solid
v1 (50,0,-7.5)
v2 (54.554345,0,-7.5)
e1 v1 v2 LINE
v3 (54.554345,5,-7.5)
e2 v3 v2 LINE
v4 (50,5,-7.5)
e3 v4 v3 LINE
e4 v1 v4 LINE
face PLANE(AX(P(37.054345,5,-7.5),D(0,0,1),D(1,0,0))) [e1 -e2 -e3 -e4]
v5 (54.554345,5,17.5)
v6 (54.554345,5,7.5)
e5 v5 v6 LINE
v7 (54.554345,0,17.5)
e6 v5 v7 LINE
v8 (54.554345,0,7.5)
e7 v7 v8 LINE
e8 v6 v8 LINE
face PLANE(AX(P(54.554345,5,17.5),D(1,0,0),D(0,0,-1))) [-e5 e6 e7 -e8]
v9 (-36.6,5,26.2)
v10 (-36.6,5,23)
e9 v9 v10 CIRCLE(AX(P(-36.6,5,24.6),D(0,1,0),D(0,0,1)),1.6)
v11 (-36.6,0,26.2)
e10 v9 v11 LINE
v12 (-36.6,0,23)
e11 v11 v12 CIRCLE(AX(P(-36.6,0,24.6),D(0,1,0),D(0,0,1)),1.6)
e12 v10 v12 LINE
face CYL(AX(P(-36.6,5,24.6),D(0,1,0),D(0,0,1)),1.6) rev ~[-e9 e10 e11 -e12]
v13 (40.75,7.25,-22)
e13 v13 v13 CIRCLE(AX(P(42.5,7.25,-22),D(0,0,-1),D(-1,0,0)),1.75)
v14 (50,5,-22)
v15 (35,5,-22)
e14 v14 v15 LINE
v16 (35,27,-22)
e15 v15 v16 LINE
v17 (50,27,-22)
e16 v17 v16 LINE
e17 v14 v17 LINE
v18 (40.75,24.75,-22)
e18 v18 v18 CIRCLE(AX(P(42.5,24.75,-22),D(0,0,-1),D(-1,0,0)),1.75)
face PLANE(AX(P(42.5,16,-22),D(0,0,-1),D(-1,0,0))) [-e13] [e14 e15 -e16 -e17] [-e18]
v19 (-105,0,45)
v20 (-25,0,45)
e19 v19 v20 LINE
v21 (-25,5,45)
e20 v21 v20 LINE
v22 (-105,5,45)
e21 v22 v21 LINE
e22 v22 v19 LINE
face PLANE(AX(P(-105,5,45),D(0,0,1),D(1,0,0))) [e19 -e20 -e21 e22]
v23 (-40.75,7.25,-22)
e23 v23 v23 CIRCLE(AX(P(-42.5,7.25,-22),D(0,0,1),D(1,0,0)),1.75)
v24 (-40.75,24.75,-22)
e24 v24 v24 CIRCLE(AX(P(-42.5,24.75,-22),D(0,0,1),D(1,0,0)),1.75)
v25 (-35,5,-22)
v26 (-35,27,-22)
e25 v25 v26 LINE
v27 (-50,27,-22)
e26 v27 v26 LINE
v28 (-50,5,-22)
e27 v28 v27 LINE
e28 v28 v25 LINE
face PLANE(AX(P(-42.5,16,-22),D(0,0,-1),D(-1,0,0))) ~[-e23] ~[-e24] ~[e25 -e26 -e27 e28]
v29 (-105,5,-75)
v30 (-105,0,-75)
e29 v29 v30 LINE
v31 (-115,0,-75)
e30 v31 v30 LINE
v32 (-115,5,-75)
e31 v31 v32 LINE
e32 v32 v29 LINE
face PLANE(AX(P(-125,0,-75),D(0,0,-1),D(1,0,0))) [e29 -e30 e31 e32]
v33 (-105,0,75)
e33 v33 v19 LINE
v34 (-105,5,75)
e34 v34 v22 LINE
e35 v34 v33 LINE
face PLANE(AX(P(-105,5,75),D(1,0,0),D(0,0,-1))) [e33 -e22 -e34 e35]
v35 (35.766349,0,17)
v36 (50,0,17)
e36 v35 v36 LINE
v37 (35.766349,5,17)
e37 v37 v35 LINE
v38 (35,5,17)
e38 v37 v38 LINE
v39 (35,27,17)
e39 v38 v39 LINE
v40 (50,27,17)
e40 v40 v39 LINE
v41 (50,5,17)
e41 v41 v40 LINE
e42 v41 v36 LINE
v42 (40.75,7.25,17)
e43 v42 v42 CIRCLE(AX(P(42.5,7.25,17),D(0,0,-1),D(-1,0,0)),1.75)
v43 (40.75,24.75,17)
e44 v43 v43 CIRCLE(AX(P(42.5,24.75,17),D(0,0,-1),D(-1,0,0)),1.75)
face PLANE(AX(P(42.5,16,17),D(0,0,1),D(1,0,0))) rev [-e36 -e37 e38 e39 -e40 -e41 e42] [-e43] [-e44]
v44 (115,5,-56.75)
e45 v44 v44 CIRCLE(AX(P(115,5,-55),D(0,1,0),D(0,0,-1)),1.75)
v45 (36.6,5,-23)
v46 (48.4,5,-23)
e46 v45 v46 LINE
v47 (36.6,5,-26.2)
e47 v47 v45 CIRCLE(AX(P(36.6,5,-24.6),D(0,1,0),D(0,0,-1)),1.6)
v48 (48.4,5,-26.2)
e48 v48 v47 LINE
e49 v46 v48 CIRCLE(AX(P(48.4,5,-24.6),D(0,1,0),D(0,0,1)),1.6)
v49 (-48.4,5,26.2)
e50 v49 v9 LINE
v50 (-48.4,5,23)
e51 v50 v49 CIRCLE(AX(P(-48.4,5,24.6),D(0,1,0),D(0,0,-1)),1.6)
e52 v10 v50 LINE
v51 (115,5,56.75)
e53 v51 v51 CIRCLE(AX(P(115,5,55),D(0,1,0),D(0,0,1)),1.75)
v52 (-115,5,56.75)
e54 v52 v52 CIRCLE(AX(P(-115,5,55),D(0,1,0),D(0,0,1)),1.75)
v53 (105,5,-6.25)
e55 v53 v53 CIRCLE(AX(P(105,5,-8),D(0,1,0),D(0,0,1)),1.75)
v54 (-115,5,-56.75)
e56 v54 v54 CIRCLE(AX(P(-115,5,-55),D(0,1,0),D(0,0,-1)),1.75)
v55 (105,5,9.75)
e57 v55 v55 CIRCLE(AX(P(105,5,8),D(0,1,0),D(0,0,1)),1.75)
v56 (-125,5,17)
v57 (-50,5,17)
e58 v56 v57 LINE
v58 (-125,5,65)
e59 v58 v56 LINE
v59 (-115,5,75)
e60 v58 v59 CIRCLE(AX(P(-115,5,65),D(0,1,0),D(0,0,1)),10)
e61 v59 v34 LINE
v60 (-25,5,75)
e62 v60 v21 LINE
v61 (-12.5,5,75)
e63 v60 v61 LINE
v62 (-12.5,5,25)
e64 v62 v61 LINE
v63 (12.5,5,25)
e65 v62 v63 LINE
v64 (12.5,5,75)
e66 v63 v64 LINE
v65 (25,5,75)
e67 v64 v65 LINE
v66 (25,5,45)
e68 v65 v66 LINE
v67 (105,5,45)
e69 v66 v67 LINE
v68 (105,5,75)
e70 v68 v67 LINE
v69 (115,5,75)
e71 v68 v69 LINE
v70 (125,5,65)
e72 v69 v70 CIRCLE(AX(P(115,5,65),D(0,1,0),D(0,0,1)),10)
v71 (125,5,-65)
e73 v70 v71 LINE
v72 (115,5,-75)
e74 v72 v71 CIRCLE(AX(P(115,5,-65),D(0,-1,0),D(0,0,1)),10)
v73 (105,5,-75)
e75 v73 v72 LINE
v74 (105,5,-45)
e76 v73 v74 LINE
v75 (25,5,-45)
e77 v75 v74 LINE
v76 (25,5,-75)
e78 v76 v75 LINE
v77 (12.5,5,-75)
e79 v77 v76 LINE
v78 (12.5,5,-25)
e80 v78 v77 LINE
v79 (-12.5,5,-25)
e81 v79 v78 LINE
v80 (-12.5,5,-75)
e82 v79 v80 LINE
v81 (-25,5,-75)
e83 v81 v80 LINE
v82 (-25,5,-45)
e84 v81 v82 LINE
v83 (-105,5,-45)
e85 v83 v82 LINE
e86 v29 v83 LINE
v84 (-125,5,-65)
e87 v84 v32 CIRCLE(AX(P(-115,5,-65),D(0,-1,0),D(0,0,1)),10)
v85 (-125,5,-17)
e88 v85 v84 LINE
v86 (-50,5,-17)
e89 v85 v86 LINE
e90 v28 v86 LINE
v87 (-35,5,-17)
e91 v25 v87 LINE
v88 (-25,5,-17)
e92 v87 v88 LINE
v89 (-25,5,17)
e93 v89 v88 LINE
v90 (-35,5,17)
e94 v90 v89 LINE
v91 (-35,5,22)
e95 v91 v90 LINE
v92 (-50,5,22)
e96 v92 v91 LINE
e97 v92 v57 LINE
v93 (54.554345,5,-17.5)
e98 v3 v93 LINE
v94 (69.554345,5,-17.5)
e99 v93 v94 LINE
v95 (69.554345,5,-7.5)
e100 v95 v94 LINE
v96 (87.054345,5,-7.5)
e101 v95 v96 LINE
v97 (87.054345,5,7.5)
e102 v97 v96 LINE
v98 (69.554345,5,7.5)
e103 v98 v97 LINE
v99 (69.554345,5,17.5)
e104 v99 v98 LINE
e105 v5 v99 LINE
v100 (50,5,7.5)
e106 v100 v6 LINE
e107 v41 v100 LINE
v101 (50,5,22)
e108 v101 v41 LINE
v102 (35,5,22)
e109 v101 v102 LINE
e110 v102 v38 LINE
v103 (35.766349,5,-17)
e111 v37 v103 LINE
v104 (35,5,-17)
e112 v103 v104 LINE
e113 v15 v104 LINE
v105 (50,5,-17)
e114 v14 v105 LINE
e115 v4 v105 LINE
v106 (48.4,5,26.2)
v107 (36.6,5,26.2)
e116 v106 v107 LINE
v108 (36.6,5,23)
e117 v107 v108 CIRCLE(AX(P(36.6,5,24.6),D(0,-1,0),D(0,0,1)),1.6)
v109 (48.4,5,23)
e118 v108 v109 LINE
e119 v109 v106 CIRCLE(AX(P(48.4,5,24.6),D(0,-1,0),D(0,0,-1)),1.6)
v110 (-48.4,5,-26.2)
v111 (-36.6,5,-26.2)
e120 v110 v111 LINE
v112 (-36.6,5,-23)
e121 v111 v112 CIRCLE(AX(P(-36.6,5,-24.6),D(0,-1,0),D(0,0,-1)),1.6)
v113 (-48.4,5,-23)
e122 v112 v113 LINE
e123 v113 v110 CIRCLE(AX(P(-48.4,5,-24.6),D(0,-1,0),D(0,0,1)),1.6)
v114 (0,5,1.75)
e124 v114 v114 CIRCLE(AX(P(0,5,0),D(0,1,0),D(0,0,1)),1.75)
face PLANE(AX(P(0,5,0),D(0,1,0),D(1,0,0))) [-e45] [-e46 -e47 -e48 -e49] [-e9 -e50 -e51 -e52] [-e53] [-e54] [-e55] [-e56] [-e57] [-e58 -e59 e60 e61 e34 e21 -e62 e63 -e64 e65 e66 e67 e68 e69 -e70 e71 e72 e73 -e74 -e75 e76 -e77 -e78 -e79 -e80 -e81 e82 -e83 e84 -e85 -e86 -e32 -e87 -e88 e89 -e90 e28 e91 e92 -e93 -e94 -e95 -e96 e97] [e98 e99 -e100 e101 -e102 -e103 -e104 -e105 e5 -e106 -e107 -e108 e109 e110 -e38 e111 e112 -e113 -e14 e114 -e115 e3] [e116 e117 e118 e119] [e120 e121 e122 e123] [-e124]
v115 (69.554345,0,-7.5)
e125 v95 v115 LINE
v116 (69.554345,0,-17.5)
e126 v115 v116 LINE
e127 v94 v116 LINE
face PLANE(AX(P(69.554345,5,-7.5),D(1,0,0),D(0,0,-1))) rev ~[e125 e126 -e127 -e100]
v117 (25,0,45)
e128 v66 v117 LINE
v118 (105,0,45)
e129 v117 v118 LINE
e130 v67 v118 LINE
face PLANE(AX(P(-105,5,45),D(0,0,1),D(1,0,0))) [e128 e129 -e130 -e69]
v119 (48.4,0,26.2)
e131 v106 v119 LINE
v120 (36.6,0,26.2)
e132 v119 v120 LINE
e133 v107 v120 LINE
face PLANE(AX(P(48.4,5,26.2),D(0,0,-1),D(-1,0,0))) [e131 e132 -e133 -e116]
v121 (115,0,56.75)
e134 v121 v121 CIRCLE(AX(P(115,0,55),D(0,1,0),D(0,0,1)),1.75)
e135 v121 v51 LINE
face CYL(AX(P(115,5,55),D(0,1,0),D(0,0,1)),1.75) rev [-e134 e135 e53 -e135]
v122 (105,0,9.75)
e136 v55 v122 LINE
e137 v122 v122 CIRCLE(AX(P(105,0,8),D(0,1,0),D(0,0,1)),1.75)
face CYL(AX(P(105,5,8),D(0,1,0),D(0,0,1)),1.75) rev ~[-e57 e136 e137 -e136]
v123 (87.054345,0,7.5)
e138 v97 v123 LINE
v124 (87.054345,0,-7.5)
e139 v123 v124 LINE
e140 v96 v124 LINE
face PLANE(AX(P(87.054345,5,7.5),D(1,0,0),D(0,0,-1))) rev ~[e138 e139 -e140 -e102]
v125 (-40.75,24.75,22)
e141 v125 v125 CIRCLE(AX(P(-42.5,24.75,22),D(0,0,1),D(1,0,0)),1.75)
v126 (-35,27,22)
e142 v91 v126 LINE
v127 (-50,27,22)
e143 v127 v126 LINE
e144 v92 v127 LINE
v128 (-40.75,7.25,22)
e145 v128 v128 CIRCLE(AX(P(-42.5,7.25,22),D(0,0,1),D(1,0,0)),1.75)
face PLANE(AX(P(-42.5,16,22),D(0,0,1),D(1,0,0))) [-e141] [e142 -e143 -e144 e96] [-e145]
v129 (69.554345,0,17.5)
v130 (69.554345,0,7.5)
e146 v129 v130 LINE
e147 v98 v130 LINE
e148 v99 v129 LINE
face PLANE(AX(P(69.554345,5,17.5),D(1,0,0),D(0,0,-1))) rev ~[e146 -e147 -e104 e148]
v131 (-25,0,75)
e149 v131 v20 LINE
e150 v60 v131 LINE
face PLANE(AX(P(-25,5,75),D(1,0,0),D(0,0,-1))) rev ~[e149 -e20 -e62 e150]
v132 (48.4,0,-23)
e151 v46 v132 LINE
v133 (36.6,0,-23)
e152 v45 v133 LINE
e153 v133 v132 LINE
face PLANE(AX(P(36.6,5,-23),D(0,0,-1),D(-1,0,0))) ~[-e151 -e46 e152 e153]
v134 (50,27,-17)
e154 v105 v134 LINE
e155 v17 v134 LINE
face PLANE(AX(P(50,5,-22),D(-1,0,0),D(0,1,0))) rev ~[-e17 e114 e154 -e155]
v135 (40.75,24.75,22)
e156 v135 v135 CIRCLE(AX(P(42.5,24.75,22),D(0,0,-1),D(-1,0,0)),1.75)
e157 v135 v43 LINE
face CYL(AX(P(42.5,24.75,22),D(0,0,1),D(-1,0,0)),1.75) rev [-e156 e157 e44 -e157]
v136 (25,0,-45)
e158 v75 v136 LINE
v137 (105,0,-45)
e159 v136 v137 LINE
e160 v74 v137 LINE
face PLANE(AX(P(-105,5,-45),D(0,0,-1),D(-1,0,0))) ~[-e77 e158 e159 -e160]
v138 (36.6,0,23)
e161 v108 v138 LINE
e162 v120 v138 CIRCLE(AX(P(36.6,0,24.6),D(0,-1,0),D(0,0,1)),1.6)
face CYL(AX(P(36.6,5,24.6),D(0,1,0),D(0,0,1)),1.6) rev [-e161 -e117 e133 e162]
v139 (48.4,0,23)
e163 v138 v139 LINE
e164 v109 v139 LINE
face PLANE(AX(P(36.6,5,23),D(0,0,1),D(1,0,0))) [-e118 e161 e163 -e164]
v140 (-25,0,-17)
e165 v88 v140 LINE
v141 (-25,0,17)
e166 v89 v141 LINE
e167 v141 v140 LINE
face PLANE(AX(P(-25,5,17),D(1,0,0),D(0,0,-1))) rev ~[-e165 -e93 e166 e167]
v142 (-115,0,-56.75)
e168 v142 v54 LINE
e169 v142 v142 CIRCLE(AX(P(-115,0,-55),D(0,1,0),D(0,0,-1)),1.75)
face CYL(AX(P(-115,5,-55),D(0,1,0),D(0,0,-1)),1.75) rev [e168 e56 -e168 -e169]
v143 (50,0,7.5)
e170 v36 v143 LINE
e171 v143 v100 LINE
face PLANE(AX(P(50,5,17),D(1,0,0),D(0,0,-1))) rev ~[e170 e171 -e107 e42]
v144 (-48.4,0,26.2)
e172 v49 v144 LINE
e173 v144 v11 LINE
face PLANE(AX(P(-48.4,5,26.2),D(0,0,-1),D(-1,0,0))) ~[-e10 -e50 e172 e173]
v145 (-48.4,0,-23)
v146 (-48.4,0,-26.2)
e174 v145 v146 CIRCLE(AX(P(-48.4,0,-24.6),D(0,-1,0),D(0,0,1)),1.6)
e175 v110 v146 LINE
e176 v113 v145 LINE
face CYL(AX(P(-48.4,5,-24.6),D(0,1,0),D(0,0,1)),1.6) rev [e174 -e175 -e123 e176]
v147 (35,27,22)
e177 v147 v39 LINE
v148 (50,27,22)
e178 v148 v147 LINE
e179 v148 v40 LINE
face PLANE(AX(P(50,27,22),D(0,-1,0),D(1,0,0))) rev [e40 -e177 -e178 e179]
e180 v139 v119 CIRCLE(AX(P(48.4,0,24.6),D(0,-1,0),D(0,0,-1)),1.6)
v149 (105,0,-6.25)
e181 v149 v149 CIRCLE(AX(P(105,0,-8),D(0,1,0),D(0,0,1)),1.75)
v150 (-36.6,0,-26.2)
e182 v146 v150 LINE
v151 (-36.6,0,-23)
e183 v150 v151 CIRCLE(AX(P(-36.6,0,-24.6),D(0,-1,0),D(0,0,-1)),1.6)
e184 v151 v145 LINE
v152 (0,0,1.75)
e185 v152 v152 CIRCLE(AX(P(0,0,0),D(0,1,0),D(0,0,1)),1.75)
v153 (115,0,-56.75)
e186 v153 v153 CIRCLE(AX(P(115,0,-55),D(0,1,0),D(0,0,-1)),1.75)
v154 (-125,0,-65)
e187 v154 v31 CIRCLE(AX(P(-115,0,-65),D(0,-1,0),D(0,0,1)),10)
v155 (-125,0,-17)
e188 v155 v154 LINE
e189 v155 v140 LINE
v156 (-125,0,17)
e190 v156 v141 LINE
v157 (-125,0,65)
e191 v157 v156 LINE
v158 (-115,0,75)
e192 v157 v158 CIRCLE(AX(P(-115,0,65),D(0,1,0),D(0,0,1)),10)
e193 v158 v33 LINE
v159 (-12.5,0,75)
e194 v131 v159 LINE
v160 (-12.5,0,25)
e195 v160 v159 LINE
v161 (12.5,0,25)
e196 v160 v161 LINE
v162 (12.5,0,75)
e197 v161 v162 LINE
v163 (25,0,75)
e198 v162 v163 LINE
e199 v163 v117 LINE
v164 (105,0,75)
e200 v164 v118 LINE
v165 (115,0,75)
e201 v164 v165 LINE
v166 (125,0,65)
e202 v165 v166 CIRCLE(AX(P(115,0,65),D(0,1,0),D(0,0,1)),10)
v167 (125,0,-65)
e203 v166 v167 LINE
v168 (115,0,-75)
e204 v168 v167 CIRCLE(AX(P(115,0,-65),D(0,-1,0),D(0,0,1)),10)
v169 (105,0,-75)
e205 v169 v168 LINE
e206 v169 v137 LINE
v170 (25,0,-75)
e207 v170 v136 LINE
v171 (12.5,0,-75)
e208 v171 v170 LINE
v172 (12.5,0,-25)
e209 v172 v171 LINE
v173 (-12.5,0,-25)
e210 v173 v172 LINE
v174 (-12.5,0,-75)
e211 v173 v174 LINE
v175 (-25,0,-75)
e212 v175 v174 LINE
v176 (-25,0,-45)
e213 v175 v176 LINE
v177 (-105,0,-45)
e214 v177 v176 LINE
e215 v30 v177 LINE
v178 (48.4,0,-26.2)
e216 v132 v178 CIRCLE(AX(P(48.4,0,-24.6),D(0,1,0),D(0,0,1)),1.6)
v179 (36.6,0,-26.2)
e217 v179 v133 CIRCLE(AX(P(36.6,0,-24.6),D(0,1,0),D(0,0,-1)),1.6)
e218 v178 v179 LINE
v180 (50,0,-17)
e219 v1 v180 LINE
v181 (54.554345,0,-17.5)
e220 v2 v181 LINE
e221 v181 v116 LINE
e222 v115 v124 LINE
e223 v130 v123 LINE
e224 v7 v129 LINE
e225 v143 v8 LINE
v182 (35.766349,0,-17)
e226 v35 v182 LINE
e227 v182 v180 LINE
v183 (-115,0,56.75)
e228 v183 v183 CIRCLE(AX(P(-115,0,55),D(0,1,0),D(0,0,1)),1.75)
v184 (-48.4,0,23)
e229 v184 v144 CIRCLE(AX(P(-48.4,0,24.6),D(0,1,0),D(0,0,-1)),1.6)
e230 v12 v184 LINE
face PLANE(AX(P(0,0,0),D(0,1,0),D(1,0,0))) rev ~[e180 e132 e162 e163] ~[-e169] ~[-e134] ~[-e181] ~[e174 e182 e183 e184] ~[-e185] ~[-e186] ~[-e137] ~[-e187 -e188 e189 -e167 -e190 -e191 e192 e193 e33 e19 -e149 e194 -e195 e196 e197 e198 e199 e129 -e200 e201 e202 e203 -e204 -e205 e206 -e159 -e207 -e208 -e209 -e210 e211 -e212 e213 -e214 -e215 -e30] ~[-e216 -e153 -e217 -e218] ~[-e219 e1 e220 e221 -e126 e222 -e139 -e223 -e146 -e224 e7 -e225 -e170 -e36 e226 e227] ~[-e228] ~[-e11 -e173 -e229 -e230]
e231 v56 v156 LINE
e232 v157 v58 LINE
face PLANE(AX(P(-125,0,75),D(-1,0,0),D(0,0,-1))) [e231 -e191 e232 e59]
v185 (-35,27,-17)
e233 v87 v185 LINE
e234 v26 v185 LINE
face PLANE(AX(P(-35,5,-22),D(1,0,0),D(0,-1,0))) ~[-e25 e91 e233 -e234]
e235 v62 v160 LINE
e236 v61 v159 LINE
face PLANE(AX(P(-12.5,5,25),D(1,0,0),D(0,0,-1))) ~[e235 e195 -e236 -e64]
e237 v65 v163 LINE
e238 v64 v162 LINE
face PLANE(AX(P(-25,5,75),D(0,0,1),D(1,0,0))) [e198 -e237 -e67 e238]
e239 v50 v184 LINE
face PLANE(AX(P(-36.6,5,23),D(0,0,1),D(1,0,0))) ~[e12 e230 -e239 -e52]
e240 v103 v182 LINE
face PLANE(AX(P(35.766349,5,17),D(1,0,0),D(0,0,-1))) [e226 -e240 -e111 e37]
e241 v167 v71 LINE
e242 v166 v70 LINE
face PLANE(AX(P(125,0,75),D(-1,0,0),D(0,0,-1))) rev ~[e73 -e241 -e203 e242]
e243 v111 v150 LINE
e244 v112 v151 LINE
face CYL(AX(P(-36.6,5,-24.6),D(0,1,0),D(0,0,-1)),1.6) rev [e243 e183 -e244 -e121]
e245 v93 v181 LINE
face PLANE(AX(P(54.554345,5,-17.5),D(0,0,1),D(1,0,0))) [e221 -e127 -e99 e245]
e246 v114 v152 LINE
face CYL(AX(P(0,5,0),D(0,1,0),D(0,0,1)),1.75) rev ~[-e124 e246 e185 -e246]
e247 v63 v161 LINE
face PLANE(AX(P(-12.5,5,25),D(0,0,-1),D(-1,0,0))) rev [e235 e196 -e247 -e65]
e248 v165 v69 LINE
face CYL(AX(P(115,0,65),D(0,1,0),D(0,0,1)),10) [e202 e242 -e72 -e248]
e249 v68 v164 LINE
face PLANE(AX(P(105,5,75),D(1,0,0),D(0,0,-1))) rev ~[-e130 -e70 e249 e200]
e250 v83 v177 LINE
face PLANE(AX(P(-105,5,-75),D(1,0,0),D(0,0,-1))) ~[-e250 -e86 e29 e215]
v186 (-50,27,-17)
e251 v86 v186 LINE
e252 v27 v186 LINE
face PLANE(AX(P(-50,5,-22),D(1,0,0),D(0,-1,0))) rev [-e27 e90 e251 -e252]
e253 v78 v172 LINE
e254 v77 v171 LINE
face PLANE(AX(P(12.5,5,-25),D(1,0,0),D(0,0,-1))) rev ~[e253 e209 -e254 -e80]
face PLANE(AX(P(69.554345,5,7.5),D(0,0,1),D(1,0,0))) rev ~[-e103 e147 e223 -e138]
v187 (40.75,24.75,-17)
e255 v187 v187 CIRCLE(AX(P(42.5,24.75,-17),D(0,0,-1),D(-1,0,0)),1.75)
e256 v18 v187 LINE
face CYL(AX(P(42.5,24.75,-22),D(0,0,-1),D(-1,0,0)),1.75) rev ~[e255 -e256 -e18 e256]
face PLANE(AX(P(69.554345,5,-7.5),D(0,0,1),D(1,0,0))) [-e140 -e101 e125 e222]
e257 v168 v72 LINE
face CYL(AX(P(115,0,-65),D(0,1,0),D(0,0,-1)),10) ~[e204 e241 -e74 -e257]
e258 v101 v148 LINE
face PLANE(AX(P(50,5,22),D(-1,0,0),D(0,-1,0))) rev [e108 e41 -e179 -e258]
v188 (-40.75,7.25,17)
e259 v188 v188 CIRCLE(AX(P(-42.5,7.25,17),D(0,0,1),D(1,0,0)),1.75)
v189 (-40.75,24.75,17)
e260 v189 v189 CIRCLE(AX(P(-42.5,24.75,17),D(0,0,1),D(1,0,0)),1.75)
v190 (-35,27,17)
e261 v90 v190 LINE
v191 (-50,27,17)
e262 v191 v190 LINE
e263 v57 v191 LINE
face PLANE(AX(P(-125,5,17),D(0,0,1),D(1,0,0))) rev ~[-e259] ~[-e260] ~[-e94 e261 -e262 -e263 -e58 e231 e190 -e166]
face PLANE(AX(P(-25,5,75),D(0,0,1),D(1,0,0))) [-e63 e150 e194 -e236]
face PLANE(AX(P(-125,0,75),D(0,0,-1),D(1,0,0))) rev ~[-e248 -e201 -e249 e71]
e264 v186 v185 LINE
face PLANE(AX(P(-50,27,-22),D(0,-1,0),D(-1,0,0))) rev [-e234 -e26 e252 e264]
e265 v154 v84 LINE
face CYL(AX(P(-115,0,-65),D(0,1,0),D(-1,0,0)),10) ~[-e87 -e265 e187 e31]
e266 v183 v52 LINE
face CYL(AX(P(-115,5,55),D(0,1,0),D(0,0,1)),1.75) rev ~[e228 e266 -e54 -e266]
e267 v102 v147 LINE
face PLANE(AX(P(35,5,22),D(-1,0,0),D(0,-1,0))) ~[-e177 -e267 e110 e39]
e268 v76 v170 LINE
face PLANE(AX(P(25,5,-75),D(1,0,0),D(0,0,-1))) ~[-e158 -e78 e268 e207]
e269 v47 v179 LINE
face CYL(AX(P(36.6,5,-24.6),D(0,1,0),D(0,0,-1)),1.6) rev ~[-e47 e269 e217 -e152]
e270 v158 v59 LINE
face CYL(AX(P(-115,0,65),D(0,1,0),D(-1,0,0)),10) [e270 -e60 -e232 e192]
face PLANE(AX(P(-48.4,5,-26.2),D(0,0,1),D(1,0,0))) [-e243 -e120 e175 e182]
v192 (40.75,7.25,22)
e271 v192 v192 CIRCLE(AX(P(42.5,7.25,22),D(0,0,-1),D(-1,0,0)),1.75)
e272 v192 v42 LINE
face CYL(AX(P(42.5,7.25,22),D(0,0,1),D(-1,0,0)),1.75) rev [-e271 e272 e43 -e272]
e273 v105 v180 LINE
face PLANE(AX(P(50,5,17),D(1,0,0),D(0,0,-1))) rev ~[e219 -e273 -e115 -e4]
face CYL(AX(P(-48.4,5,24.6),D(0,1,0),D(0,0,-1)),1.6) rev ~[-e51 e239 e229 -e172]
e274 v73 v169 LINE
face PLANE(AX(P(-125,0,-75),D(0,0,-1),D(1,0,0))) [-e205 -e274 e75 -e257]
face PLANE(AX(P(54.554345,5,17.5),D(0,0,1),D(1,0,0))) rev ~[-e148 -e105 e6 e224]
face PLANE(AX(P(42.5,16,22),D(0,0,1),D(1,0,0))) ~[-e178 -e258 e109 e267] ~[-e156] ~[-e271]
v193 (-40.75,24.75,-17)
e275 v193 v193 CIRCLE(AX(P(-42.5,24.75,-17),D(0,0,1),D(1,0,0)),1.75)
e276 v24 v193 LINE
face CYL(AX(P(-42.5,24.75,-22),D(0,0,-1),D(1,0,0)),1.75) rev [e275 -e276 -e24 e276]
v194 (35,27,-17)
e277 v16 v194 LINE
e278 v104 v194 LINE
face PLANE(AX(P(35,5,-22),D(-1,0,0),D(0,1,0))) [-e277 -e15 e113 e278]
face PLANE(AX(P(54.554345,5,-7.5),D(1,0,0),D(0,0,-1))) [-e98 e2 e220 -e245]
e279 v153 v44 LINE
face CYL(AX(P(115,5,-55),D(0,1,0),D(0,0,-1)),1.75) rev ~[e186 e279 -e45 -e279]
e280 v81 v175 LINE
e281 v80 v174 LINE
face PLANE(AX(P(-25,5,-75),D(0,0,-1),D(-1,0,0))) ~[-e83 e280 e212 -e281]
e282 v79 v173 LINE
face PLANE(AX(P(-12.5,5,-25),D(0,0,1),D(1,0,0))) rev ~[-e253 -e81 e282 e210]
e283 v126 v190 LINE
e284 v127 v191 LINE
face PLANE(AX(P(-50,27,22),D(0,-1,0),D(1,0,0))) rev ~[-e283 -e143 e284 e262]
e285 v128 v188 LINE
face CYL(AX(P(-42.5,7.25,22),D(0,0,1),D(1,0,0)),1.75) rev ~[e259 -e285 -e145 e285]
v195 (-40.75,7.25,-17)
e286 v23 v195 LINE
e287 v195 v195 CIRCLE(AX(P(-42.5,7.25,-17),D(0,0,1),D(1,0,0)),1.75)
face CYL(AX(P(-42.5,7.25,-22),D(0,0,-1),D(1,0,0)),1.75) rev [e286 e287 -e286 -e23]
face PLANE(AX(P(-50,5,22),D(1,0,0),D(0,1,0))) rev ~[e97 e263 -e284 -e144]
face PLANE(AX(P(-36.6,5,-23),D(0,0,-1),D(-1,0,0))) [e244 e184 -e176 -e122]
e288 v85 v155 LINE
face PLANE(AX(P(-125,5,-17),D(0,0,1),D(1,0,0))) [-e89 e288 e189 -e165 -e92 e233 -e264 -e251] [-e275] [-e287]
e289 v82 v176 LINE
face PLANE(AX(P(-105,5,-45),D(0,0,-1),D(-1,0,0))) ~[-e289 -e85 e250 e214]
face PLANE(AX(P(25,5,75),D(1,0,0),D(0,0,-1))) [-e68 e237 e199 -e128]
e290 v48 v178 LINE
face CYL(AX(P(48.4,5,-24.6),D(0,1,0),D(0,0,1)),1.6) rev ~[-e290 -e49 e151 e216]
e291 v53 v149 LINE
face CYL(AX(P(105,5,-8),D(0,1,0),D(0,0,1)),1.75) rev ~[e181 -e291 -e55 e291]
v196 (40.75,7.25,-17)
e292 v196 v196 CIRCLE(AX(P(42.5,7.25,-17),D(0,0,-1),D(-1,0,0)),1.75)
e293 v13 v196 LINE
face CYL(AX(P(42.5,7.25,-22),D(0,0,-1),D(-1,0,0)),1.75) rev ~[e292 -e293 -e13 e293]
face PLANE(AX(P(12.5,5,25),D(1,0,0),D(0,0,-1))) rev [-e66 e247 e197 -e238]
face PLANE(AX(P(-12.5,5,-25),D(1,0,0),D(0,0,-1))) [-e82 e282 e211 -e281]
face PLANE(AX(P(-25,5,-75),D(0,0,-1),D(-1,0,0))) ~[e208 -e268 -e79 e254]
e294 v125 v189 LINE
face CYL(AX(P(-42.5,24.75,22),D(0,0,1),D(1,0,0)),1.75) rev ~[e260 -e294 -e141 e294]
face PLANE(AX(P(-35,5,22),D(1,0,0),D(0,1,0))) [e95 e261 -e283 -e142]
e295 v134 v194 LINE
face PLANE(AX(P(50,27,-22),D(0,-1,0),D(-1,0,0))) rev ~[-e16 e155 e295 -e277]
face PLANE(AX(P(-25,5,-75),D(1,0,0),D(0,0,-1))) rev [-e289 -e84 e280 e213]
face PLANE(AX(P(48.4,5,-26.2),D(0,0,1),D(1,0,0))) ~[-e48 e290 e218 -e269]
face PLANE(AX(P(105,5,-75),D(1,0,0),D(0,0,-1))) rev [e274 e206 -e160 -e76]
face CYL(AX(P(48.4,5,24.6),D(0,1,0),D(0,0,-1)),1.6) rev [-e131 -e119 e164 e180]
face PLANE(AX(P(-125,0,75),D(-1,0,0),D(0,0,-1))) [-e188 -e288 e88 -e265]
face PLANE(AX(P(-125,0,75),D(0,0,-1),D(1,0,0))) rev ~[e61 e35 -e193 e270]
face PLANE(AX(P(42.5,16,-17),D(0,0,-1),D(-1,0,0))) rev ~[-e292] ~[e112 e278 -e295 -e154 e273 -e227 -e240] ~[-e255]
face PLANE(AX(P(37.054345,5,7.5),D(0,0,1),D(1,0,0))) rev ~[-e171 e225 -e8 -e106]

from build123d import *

# Parameters (mm, degrees)
SKETCH_1_W                                 = 250
SKETCH_1_H                                 = 150
EXTRUDE_1_DEPTH                            = 5
SKETCH_2_W                                 = 15
SKETCH_2_H                                 = 22
EXTRUDE_2_DEPTH                            = 5
MIRROR_2_COPY_1_SKETCH_W                   = 15
MIRROR_2_COPY_1_SKETCH_H                   = 22
MIRROR_2_COPY_1_DEPTH                      = 5
SKETCH_7_R                                 = 1.75
CUT_EXTRUDE_1_DEPTH                        = 148.424556977
MIRROR_4_COPY_1_SKETCH_R                   = 1.75
MIRROR_4_COPY_1_DEPTH                      = 148.424556977
FILLET_1_R                                 = 10
SKETCH_12_W                                = 30
SKETCH_12_H                                = 11
EXTRUDE_4_DEPTH                            = 3
SKETCH_13_W                                = 30
SKETCH_13_H                                = 3
EXTRUDE_5_DEPTH                            = 50
CUT_EXTRUDE_4_DEPTH                        = 192.065433818
CUT_EXTRUDE_4_DEPTH_BACK                   = 192.065433818
SKETCH_16_R                                = 1.75
CUT_EXTRUDE_5_DEPTH                        = 182.950542731
CUT_EXTRUDE_6_DEPTH                        = 182.950542731
CUT_EXTRUDE_6_DEPTH_BACK                   = 5
SKETCH_19_W                                = 6
SKETCH_19_H                                = 20
SKETCH_21_W                                = 210
SKETCH_21_H                                = 30
CUT_EXTRUDE_8_DEPTH                        = 5
SKETCH_23_W                                = 50
SKETCH_23_H                                = 30
EXTRUDE_6_DEPTH                            = 5
SKETCH_24_W                                = 25
SKETCH_24_H                                = 50
CUT_EXTRUDE_9_DEPTH                        = 5
SKETCH_25_W                                = 100
SKETCH_25_H                                = 34
CUT_EXTRUDE_10_DEPTH                       = 5
SKETCH_26_W                                = 50
SKETCH_26_H                                = 15
SKETCH_26_W_2                              = 15
SKETCH_26_H_2                              = 35
CUT_EXTRUDE_11_DEPTH                       = 5
SKETCH_27_R                                = 1.75
CUT_EXTRUDE_12_DEPTH                       = 5
SKETCH_29_R                                = 1.75
CUT_EXTRUDE_13_DEPTH                       = 5
MIRROR_12_AT_THE_SECOND_PLANE_COPY_1_SKE_R = 1.75
MIRROR_12_AT_THE_SECOND_PLANE_COPY_1_DEPTH = 5
CUT_EXTRUDE_14_DEPTH                       = 5
MIRROR_13_AT_THE_SECOND_PLANE_COPY_1_DEPTH = 5
SKETCH_33_W                                = 14.233651272
SKETCH_33_H                                = 34
CUT_EXTRUDE_15_DEPTH                       = 5
SKETCH_34_R                                = 1.75
CUT_EXTRUDE_16_DEPTH                       = 10
SKETCH_35_W                                = 30
SKETCH_35_H                                = 11
CUT_EXTRUDE_17_DEPTH                       = 65


with BuildPart() as part:
    # 草图1 → 凸台-拉伸1 (new body)
    with BuildSketch(Plane(origin=(0, 0, 0), x_dir=(1, 0, 0), z_dir=(0, 1, 0))):
        Rectangle(SKETCH_1_W, SKETCH_1_H)
    extrude(amount=EXTRUDE_1_DEPTH)

    # 草图2 → 凸台-拉伸2 (add)
    with BuildSketch(Plane.XY.offset(22)):
        with Locations((-42.5, 16)):
            Rectangle(SKETCH_2_W, SKETCH_2_H)
    extrude_2 = extrude(amount=-EXTRUDE_2_DEPTH)

    # 镜向1: 凸台-拉伸2 across plane
    add(extrude_2.mirror(Plane.XY))

    # 镜向2: 凸台-拉伸2 across plane
    add(extrude_2.mirror(Plane(origin=(0, 0, 0), x_dir=(0, 0, 1), z_dir=(1, 0, 0))))

    # 镜向2 copy 1 sketch → 镜向2 copy 1 (add)
    with BuildSketch(Plane(origin=(0, 0, -22), x_dir=(-1, 0, 0), z_dir=(0, 0, -1))):
        with Locations((-42.5, 16)):
            Rectangle(MIRROR_2_COPY_1_SKETCH_W, MIRROR_2_COPY_1_SKETCH_H)
    extrude(amount=-MIRROR_2_COPY_1_DEPTH)

    # 草图7 → 切除-拉伸1 (cut, symmetric)
    with BuildSketch(Plane(origin=(0, 5, 0), x_dir=(1, 0, 0), z_dir=(0, 1, 0))):
        with Locations(Location((-115, -55, 0), (0, 0, 270))):
            Circle(SKETCH_7_R)
    cut_extrude_1 = extrude(amount=CUT_EXTRUDE_1_DEPTH, both=True, mode=Mode.SUBTRACT)

    # 镜向3: 切除-拉伸1 across plane
    add(cut_extrude_1.mirror(Plane.XY), mode=Mode.SUBTRACT)

    # 镜向4: 切除-拉伸1 across plane
    add(cut_extrude_1.mirror(Plane(origin=(0, 0, 0), x_dir=(0, 0, 1), z_dir=(1, 0, 0))), mode=Mode.SUBTRACT)

    # 镜向4 copy 1 sketch → 镜向4 copy 1 (cut, symmetric)
    with BuildSketch(Plane(origin=(0, 5, 0), x_dir=(-1, 0, 0), z_dir=(0, 1, 0))):
        with Locations(Location((-115, -55, 0), (0, 0, 270))):
            Circle(MIRROR_4_COPY_1_SKETCH_R)
    extrude(amount=MIRROR_4_COPY_1_DEPTH, both=True, mode=Mode.SUBTRACT)

    # 圆角1
    fillet_1_edges = [part.edges().sort_by_distance(p)[0] for p in [
        (-125, 2.5, -75),
        (125, 2.5, -75),
        (125, 2.5, 75),
        (-125, 2.5, 75),
    ]]
    fillet(fillet_1_edges, radius=FILLET_1_R)

    # 草图12 → 凸台-拉伸4 (add)
    with BuildSketch(Plane(origin=(125, 0, 0), x_dir=(0, 0, -1), z_dir=(1, 0, 0))):
        with Locations((0, 10.5)):
            Rectangle(SKETCH_12_W, SKETCH_12_H)
    extrude(amount=-EXTRUDE_4_DEPTH)

    # 草图13 → 凸台-拉伸5 (add)
    with BuildSketch(Plane(origin=(125, 0, 0), x_dir=(0, 0, -1), z_dir=(1, 0, 0))):
        with Locations((0, 14.5)):
            Rectangle(SKETCH_13_W, SKETCH_13_H)
    extrude(amount=EXTRUDE_5_DEPTH)

    # 草图15 → 切除-拉伸4 (cut, two sides: drawn at the far end of the back side and taken through both)
    with BuildSketch(Plane(origin=(0, 16, 0), x_dir=(1, 0, 0), z_dir=(0, 1, 0)).offset(-CUT_EXTRUDE_4_DEPTH_BACK)):
        Polygon((165, 632.289058028), (165, 15), (165, -15), (165, -632.289058028), (1399.578116055, -632.289058028), (1399.578116055, 632.289058028), align=None)
    extrude(amount=CUT_EXTRUDE_4_DEPTH + CUT_EXTRUDE_4_DEPTH_BACK, mode=Mode.SUBTRACT)

    # 草图16 → 切除-拉伸5 (cut, symmetric)
    with BuildSketch(Plane(origin=(0, 16, 0), x_dir=(1, 0, 0), z_dir=(0, 1, 0))):
        with Locations(Location((135, 8, 0), (0, 0, 270))):
            Circle(SKETCH_16_R)
        with Locations(Location((155, 8, 0), (0, 0, 270))):
            Circle(SKETCH_16_R)
    cut_extrude_5 = extrude(amount=CUT_EXTRUDE_5_DEPTH, both=True, mode=Mode.SUBTRACT)

    # 镜向7: 切除-拉伸5 across plane
    add(cut_extrude_5.mirror(Plane.XY), mode=Mode.SUBTRACT)

    # 草图19 → 切除-拉伸6 (cut, two sides: drawn at the far end of the back side and taken through both)
    with BuildSketch(Plane(origin=(0, 16, 0), x_dir=(1, 0, 0), z_dir=(0, 1, 0)).offset(-CUT_EXTRUDE_6_DEPTH_BACK)):
        with Locations((125, 0)):
            Rectangle(SKETCH_19_W, SKETCH_19_H)
    extrude(amount=CUT_EXTRUDE_6_DEPTH + CUT_EXTRUDE_6_DEPTH_BACK, mode=Mode.SUBTRACT)

    # 草图21 → 切除-拉伸8 (cut)
    with BuildSketch(Plane(origin=(0, 5, 0), x_dir=(1, 0, 0), z_dir=(0, 1, 0))):
        with Locations((0, -60)):
            Rectangle(SKETCH_21_W, SKETCH_21_H)
    cut_extrude_8 = extrude(amount=-CUT_EXTRUDE_8_DEPTH, mode=Mode.SUBTRACT)

    # 草图23 → 凸台-拉伸6 (add)
    with BuildSketch(Plane(origin=(0, 5, 0), x_dir=(1, 0, 0), z_dir=(0, 1, 0))):
        with Locations((0, -60)):
            Rectangle(SKETCH_23_W, SKETCH_23_H)
    extrude_6 = extrude(amount=-EXTRUDE_6_DEPTH)

    # 镜向10: 切除-拉伸8, 凸台-拉伸6 across plane
    add(cut_extrude_8.mirror(Plane.XY), mode=Mode.SUBTRACT)
    add(extrude_6.mirror(Plane.XY))

    # 草图24 → 切除-拉伸9 (cut)
    with BuildSketch(Plane(origin=(0, 5, 0), x_dir=(1, 0, 0), z_dir=(0, 1, 0))):
        with Locations((0, 50)):
            Rectangle(SKETCH_24_W, SKETCH_24_H)
    cut_extrude_9 = extrude(amount=-CUT_EXTRUDE_9_DEPTH, mode=Mode.SUBTRACT)

    # 镜向11: 切除-拉伸9 across plane
    add(cut_extrude_9.mirror(Plane.XY), mode=Mode.SUBTRACT)

    # 草图25 → 切除-拉伸10 (cut)
    with BuildSketch(Plane(origin=(0, 5, 0), x_dir=(1, 0, 0), z_dir=(0, 1, 0))):
        with Locations((-75, 0)):
            Rectangle(SKETCH_25_W, SKETCH_25_H)
    extrude(amount=-CUT_EXTRUDE_10_DEPTH, mode=Mode.SUBTRACT)

    # 草图26 → 切除-拉伸11 (cut)
    with BuildSketch(Plane(origin=(0, 5, 0), x_dir=(1, 0, 0), z_dir=(0, 1, 0))):
        with Locations((62.054344838, 0)):
            Rectangle(SKETCH_26_W, SKETCH_26_H)
        with Locations((62.054344838, 0)):
            Rectangle(SKETCH_26_W_2, SKETCH_26_H_2)
    extrude(amount=-CUT_EXTRUDE_11_DEPTH, mode=Mode.SUBTRACT)

    # 草图27 → 切除-拉伸12 (cut)
    with BuildSketch(Plane(origin=(0, 5, 0), x_dir=(1, 0, 0), z_dir=(0, 1, 0))):
        with Locations(Location((0, 0, 0), (0, 0, 270))):
            Circle(SKETCH_27_R)
    extrude(amount=-CUT_EXTRUDE_12_DEPTH, mode=Mode.SUBTRACT)

    # 草图29 → 切除-拉伸13 (cut)
    with BuildSketch(Plane.XY.offset(22)):
        with Locations((-42.5, 24.75)):
            Circle(SKETCH_29_R)
        with Locations((-42.5, 7.25)):
            Circle(SKETCH_29_R)
    cut_extrude_13 = extrude(amount=-CUT_EXTRUDE_13_DEPTH, mode=Mode.SUBTRACT)

    # 镜向12: 切除-拉伸13 across plane
    add(cut_extrude_13.mirror(Plane(origin=(0, 0, 0), x_dir=(0, 0, 1), z_dir=(1, 0, 0))), mode=Mode.SUBTRACT)

    # 镜向12 at the second plane: 切除-拉伸13 across plane
    add(cut_extrude_13.mirror(Plane.XY), mode=Mode.SUBTRACT)

    # 镜向12 at the second plane copy 1 ske → 镜向12 at the second plane copy 1 (cut)
    with BuildSketch(Plane(origin=(0, 0, -22), x_dir=(-1, 0, 0), z_dir=(0, 0, -1))):
        with Locations((-42.5, 24.75)):
            Circle(MIRROR_12_AT_THE_SECOND_PLANE_COPY_1_SKE_R)
        with Locations((-42.5, 7.25)):
            Circle(MIRROR_12_AT_THE_SECOND_PLANE_COPY_1_SKE_R)
    extrude(amount=-MIRROR_12_AT_THE_SECOND_PLANE_COPY_1_DEPTH, mode=Mode.SUBTRACT)

    # 草图32 → 切除-拉伸14 (cut)
    with BuildSketch(Plane(origin=(0, 5, 0), x_dir=(1, 0, 0), z_dir=(0, 1, 0))):
        with BuildLine():
            Line((-48.4, 26.2), (-36.6, 26.2))
            ThreePointArc((-36.6, 26.2), (-35, 24.6), (-36.6, 23))
            Line((-36.6, 23), (-48.4, 23))
            ThreePointArc((-48.4, 23), (-50, 24.6), (-48.4, 26.2))
        make_face()
    cut_extrude_14 = extrude(amount=-CUT_EXTRUDE_14_DEPTH, mode=Mode.SUBTRACT)

    # 镜向13: 切除-拉伸14 across plane
    add(cut_extrude_14.mirror(Plane(origin=(0, 0, 0), x_dir=(0, 0, 1), z_dir=(1, 0, 0))), mode=Mode.SUBTRACT)

    # 镜向13 at the second plane: 切除-拉伸14 across plane
    add(cut_extrude_14.mirror(Plane.XY), mode=Mode.SUBTRACT)

    # 镜向13 at the second plane copy 1 ske → 镜向13 at the second plane copy 1 (cut)
    with BuildSketch(Plane(origin=(0, 5, 0), x_dir=(-1, 0, 0), z_dir=(0, 1, 0))):
        with BuildLine():
            Line((-48.4, 26.2), (-36.6, 26.2))
            ThreePointArc((-36.6, 26.2), (-35, 24.6), (-36.6, 23))
            Line((-36.6, 23), (-48.4, 23))
            ThreePointArc((-48.4, 23), (-50, 24.6), (-48.4, 26.2))
        make_face()
    extrude(amount=-MIRROR_13_AT_THE_SECOND_PLANE_COPY_1_DEPTH, mode=Mode.SUBTRACT)

    # 草图33 → 切除-拉伸15 (cut)
    with BuildSketch(Plane(origin=(0, 5, 0), x_dir=(1, 0, 0), z_dir=(0, 1, 0))):
        with Locations((42.883174364, 0)):
            Rectangle(SKETCH_33_W, SKETCH_33_H)
    extrude(amount=-CUT_EXTRUDE_15_DEPTH, mode=Mode.SUBTRACT)

    # 草图34 → 切除-拉伸16 (cut)
    with BuildSketch(Plane(origin=(0, 5, 0), x_dir=(1, 0, 0), z_dir=(0, 1, 0))):
        with Locations(Location((105, 8, 0), (0, 0, 270))):
            Circle(SKETCH_34_R)
        with Locations(Location((105, -8, 0), (0, 0, 270))):
            Circle(SKETCH_34_R)
    extrude(amount=-CUT_EXTRUDE_16_DEPTH, mode=Mode.SUBTRACT)

    # 草图35 → 切除-拉伸17 (cut)
    with BuildSketch(Plane.ZY.offset(-122)):
        with Locations((0, 10.5)):
            Rectangle(SKETCH_35_W, SKETCH_35_H)
    extrude(amount=-CUT_EXTRUDE_17_DEPTH, mode=Mode.SUBTRACT)


solid = part.part
